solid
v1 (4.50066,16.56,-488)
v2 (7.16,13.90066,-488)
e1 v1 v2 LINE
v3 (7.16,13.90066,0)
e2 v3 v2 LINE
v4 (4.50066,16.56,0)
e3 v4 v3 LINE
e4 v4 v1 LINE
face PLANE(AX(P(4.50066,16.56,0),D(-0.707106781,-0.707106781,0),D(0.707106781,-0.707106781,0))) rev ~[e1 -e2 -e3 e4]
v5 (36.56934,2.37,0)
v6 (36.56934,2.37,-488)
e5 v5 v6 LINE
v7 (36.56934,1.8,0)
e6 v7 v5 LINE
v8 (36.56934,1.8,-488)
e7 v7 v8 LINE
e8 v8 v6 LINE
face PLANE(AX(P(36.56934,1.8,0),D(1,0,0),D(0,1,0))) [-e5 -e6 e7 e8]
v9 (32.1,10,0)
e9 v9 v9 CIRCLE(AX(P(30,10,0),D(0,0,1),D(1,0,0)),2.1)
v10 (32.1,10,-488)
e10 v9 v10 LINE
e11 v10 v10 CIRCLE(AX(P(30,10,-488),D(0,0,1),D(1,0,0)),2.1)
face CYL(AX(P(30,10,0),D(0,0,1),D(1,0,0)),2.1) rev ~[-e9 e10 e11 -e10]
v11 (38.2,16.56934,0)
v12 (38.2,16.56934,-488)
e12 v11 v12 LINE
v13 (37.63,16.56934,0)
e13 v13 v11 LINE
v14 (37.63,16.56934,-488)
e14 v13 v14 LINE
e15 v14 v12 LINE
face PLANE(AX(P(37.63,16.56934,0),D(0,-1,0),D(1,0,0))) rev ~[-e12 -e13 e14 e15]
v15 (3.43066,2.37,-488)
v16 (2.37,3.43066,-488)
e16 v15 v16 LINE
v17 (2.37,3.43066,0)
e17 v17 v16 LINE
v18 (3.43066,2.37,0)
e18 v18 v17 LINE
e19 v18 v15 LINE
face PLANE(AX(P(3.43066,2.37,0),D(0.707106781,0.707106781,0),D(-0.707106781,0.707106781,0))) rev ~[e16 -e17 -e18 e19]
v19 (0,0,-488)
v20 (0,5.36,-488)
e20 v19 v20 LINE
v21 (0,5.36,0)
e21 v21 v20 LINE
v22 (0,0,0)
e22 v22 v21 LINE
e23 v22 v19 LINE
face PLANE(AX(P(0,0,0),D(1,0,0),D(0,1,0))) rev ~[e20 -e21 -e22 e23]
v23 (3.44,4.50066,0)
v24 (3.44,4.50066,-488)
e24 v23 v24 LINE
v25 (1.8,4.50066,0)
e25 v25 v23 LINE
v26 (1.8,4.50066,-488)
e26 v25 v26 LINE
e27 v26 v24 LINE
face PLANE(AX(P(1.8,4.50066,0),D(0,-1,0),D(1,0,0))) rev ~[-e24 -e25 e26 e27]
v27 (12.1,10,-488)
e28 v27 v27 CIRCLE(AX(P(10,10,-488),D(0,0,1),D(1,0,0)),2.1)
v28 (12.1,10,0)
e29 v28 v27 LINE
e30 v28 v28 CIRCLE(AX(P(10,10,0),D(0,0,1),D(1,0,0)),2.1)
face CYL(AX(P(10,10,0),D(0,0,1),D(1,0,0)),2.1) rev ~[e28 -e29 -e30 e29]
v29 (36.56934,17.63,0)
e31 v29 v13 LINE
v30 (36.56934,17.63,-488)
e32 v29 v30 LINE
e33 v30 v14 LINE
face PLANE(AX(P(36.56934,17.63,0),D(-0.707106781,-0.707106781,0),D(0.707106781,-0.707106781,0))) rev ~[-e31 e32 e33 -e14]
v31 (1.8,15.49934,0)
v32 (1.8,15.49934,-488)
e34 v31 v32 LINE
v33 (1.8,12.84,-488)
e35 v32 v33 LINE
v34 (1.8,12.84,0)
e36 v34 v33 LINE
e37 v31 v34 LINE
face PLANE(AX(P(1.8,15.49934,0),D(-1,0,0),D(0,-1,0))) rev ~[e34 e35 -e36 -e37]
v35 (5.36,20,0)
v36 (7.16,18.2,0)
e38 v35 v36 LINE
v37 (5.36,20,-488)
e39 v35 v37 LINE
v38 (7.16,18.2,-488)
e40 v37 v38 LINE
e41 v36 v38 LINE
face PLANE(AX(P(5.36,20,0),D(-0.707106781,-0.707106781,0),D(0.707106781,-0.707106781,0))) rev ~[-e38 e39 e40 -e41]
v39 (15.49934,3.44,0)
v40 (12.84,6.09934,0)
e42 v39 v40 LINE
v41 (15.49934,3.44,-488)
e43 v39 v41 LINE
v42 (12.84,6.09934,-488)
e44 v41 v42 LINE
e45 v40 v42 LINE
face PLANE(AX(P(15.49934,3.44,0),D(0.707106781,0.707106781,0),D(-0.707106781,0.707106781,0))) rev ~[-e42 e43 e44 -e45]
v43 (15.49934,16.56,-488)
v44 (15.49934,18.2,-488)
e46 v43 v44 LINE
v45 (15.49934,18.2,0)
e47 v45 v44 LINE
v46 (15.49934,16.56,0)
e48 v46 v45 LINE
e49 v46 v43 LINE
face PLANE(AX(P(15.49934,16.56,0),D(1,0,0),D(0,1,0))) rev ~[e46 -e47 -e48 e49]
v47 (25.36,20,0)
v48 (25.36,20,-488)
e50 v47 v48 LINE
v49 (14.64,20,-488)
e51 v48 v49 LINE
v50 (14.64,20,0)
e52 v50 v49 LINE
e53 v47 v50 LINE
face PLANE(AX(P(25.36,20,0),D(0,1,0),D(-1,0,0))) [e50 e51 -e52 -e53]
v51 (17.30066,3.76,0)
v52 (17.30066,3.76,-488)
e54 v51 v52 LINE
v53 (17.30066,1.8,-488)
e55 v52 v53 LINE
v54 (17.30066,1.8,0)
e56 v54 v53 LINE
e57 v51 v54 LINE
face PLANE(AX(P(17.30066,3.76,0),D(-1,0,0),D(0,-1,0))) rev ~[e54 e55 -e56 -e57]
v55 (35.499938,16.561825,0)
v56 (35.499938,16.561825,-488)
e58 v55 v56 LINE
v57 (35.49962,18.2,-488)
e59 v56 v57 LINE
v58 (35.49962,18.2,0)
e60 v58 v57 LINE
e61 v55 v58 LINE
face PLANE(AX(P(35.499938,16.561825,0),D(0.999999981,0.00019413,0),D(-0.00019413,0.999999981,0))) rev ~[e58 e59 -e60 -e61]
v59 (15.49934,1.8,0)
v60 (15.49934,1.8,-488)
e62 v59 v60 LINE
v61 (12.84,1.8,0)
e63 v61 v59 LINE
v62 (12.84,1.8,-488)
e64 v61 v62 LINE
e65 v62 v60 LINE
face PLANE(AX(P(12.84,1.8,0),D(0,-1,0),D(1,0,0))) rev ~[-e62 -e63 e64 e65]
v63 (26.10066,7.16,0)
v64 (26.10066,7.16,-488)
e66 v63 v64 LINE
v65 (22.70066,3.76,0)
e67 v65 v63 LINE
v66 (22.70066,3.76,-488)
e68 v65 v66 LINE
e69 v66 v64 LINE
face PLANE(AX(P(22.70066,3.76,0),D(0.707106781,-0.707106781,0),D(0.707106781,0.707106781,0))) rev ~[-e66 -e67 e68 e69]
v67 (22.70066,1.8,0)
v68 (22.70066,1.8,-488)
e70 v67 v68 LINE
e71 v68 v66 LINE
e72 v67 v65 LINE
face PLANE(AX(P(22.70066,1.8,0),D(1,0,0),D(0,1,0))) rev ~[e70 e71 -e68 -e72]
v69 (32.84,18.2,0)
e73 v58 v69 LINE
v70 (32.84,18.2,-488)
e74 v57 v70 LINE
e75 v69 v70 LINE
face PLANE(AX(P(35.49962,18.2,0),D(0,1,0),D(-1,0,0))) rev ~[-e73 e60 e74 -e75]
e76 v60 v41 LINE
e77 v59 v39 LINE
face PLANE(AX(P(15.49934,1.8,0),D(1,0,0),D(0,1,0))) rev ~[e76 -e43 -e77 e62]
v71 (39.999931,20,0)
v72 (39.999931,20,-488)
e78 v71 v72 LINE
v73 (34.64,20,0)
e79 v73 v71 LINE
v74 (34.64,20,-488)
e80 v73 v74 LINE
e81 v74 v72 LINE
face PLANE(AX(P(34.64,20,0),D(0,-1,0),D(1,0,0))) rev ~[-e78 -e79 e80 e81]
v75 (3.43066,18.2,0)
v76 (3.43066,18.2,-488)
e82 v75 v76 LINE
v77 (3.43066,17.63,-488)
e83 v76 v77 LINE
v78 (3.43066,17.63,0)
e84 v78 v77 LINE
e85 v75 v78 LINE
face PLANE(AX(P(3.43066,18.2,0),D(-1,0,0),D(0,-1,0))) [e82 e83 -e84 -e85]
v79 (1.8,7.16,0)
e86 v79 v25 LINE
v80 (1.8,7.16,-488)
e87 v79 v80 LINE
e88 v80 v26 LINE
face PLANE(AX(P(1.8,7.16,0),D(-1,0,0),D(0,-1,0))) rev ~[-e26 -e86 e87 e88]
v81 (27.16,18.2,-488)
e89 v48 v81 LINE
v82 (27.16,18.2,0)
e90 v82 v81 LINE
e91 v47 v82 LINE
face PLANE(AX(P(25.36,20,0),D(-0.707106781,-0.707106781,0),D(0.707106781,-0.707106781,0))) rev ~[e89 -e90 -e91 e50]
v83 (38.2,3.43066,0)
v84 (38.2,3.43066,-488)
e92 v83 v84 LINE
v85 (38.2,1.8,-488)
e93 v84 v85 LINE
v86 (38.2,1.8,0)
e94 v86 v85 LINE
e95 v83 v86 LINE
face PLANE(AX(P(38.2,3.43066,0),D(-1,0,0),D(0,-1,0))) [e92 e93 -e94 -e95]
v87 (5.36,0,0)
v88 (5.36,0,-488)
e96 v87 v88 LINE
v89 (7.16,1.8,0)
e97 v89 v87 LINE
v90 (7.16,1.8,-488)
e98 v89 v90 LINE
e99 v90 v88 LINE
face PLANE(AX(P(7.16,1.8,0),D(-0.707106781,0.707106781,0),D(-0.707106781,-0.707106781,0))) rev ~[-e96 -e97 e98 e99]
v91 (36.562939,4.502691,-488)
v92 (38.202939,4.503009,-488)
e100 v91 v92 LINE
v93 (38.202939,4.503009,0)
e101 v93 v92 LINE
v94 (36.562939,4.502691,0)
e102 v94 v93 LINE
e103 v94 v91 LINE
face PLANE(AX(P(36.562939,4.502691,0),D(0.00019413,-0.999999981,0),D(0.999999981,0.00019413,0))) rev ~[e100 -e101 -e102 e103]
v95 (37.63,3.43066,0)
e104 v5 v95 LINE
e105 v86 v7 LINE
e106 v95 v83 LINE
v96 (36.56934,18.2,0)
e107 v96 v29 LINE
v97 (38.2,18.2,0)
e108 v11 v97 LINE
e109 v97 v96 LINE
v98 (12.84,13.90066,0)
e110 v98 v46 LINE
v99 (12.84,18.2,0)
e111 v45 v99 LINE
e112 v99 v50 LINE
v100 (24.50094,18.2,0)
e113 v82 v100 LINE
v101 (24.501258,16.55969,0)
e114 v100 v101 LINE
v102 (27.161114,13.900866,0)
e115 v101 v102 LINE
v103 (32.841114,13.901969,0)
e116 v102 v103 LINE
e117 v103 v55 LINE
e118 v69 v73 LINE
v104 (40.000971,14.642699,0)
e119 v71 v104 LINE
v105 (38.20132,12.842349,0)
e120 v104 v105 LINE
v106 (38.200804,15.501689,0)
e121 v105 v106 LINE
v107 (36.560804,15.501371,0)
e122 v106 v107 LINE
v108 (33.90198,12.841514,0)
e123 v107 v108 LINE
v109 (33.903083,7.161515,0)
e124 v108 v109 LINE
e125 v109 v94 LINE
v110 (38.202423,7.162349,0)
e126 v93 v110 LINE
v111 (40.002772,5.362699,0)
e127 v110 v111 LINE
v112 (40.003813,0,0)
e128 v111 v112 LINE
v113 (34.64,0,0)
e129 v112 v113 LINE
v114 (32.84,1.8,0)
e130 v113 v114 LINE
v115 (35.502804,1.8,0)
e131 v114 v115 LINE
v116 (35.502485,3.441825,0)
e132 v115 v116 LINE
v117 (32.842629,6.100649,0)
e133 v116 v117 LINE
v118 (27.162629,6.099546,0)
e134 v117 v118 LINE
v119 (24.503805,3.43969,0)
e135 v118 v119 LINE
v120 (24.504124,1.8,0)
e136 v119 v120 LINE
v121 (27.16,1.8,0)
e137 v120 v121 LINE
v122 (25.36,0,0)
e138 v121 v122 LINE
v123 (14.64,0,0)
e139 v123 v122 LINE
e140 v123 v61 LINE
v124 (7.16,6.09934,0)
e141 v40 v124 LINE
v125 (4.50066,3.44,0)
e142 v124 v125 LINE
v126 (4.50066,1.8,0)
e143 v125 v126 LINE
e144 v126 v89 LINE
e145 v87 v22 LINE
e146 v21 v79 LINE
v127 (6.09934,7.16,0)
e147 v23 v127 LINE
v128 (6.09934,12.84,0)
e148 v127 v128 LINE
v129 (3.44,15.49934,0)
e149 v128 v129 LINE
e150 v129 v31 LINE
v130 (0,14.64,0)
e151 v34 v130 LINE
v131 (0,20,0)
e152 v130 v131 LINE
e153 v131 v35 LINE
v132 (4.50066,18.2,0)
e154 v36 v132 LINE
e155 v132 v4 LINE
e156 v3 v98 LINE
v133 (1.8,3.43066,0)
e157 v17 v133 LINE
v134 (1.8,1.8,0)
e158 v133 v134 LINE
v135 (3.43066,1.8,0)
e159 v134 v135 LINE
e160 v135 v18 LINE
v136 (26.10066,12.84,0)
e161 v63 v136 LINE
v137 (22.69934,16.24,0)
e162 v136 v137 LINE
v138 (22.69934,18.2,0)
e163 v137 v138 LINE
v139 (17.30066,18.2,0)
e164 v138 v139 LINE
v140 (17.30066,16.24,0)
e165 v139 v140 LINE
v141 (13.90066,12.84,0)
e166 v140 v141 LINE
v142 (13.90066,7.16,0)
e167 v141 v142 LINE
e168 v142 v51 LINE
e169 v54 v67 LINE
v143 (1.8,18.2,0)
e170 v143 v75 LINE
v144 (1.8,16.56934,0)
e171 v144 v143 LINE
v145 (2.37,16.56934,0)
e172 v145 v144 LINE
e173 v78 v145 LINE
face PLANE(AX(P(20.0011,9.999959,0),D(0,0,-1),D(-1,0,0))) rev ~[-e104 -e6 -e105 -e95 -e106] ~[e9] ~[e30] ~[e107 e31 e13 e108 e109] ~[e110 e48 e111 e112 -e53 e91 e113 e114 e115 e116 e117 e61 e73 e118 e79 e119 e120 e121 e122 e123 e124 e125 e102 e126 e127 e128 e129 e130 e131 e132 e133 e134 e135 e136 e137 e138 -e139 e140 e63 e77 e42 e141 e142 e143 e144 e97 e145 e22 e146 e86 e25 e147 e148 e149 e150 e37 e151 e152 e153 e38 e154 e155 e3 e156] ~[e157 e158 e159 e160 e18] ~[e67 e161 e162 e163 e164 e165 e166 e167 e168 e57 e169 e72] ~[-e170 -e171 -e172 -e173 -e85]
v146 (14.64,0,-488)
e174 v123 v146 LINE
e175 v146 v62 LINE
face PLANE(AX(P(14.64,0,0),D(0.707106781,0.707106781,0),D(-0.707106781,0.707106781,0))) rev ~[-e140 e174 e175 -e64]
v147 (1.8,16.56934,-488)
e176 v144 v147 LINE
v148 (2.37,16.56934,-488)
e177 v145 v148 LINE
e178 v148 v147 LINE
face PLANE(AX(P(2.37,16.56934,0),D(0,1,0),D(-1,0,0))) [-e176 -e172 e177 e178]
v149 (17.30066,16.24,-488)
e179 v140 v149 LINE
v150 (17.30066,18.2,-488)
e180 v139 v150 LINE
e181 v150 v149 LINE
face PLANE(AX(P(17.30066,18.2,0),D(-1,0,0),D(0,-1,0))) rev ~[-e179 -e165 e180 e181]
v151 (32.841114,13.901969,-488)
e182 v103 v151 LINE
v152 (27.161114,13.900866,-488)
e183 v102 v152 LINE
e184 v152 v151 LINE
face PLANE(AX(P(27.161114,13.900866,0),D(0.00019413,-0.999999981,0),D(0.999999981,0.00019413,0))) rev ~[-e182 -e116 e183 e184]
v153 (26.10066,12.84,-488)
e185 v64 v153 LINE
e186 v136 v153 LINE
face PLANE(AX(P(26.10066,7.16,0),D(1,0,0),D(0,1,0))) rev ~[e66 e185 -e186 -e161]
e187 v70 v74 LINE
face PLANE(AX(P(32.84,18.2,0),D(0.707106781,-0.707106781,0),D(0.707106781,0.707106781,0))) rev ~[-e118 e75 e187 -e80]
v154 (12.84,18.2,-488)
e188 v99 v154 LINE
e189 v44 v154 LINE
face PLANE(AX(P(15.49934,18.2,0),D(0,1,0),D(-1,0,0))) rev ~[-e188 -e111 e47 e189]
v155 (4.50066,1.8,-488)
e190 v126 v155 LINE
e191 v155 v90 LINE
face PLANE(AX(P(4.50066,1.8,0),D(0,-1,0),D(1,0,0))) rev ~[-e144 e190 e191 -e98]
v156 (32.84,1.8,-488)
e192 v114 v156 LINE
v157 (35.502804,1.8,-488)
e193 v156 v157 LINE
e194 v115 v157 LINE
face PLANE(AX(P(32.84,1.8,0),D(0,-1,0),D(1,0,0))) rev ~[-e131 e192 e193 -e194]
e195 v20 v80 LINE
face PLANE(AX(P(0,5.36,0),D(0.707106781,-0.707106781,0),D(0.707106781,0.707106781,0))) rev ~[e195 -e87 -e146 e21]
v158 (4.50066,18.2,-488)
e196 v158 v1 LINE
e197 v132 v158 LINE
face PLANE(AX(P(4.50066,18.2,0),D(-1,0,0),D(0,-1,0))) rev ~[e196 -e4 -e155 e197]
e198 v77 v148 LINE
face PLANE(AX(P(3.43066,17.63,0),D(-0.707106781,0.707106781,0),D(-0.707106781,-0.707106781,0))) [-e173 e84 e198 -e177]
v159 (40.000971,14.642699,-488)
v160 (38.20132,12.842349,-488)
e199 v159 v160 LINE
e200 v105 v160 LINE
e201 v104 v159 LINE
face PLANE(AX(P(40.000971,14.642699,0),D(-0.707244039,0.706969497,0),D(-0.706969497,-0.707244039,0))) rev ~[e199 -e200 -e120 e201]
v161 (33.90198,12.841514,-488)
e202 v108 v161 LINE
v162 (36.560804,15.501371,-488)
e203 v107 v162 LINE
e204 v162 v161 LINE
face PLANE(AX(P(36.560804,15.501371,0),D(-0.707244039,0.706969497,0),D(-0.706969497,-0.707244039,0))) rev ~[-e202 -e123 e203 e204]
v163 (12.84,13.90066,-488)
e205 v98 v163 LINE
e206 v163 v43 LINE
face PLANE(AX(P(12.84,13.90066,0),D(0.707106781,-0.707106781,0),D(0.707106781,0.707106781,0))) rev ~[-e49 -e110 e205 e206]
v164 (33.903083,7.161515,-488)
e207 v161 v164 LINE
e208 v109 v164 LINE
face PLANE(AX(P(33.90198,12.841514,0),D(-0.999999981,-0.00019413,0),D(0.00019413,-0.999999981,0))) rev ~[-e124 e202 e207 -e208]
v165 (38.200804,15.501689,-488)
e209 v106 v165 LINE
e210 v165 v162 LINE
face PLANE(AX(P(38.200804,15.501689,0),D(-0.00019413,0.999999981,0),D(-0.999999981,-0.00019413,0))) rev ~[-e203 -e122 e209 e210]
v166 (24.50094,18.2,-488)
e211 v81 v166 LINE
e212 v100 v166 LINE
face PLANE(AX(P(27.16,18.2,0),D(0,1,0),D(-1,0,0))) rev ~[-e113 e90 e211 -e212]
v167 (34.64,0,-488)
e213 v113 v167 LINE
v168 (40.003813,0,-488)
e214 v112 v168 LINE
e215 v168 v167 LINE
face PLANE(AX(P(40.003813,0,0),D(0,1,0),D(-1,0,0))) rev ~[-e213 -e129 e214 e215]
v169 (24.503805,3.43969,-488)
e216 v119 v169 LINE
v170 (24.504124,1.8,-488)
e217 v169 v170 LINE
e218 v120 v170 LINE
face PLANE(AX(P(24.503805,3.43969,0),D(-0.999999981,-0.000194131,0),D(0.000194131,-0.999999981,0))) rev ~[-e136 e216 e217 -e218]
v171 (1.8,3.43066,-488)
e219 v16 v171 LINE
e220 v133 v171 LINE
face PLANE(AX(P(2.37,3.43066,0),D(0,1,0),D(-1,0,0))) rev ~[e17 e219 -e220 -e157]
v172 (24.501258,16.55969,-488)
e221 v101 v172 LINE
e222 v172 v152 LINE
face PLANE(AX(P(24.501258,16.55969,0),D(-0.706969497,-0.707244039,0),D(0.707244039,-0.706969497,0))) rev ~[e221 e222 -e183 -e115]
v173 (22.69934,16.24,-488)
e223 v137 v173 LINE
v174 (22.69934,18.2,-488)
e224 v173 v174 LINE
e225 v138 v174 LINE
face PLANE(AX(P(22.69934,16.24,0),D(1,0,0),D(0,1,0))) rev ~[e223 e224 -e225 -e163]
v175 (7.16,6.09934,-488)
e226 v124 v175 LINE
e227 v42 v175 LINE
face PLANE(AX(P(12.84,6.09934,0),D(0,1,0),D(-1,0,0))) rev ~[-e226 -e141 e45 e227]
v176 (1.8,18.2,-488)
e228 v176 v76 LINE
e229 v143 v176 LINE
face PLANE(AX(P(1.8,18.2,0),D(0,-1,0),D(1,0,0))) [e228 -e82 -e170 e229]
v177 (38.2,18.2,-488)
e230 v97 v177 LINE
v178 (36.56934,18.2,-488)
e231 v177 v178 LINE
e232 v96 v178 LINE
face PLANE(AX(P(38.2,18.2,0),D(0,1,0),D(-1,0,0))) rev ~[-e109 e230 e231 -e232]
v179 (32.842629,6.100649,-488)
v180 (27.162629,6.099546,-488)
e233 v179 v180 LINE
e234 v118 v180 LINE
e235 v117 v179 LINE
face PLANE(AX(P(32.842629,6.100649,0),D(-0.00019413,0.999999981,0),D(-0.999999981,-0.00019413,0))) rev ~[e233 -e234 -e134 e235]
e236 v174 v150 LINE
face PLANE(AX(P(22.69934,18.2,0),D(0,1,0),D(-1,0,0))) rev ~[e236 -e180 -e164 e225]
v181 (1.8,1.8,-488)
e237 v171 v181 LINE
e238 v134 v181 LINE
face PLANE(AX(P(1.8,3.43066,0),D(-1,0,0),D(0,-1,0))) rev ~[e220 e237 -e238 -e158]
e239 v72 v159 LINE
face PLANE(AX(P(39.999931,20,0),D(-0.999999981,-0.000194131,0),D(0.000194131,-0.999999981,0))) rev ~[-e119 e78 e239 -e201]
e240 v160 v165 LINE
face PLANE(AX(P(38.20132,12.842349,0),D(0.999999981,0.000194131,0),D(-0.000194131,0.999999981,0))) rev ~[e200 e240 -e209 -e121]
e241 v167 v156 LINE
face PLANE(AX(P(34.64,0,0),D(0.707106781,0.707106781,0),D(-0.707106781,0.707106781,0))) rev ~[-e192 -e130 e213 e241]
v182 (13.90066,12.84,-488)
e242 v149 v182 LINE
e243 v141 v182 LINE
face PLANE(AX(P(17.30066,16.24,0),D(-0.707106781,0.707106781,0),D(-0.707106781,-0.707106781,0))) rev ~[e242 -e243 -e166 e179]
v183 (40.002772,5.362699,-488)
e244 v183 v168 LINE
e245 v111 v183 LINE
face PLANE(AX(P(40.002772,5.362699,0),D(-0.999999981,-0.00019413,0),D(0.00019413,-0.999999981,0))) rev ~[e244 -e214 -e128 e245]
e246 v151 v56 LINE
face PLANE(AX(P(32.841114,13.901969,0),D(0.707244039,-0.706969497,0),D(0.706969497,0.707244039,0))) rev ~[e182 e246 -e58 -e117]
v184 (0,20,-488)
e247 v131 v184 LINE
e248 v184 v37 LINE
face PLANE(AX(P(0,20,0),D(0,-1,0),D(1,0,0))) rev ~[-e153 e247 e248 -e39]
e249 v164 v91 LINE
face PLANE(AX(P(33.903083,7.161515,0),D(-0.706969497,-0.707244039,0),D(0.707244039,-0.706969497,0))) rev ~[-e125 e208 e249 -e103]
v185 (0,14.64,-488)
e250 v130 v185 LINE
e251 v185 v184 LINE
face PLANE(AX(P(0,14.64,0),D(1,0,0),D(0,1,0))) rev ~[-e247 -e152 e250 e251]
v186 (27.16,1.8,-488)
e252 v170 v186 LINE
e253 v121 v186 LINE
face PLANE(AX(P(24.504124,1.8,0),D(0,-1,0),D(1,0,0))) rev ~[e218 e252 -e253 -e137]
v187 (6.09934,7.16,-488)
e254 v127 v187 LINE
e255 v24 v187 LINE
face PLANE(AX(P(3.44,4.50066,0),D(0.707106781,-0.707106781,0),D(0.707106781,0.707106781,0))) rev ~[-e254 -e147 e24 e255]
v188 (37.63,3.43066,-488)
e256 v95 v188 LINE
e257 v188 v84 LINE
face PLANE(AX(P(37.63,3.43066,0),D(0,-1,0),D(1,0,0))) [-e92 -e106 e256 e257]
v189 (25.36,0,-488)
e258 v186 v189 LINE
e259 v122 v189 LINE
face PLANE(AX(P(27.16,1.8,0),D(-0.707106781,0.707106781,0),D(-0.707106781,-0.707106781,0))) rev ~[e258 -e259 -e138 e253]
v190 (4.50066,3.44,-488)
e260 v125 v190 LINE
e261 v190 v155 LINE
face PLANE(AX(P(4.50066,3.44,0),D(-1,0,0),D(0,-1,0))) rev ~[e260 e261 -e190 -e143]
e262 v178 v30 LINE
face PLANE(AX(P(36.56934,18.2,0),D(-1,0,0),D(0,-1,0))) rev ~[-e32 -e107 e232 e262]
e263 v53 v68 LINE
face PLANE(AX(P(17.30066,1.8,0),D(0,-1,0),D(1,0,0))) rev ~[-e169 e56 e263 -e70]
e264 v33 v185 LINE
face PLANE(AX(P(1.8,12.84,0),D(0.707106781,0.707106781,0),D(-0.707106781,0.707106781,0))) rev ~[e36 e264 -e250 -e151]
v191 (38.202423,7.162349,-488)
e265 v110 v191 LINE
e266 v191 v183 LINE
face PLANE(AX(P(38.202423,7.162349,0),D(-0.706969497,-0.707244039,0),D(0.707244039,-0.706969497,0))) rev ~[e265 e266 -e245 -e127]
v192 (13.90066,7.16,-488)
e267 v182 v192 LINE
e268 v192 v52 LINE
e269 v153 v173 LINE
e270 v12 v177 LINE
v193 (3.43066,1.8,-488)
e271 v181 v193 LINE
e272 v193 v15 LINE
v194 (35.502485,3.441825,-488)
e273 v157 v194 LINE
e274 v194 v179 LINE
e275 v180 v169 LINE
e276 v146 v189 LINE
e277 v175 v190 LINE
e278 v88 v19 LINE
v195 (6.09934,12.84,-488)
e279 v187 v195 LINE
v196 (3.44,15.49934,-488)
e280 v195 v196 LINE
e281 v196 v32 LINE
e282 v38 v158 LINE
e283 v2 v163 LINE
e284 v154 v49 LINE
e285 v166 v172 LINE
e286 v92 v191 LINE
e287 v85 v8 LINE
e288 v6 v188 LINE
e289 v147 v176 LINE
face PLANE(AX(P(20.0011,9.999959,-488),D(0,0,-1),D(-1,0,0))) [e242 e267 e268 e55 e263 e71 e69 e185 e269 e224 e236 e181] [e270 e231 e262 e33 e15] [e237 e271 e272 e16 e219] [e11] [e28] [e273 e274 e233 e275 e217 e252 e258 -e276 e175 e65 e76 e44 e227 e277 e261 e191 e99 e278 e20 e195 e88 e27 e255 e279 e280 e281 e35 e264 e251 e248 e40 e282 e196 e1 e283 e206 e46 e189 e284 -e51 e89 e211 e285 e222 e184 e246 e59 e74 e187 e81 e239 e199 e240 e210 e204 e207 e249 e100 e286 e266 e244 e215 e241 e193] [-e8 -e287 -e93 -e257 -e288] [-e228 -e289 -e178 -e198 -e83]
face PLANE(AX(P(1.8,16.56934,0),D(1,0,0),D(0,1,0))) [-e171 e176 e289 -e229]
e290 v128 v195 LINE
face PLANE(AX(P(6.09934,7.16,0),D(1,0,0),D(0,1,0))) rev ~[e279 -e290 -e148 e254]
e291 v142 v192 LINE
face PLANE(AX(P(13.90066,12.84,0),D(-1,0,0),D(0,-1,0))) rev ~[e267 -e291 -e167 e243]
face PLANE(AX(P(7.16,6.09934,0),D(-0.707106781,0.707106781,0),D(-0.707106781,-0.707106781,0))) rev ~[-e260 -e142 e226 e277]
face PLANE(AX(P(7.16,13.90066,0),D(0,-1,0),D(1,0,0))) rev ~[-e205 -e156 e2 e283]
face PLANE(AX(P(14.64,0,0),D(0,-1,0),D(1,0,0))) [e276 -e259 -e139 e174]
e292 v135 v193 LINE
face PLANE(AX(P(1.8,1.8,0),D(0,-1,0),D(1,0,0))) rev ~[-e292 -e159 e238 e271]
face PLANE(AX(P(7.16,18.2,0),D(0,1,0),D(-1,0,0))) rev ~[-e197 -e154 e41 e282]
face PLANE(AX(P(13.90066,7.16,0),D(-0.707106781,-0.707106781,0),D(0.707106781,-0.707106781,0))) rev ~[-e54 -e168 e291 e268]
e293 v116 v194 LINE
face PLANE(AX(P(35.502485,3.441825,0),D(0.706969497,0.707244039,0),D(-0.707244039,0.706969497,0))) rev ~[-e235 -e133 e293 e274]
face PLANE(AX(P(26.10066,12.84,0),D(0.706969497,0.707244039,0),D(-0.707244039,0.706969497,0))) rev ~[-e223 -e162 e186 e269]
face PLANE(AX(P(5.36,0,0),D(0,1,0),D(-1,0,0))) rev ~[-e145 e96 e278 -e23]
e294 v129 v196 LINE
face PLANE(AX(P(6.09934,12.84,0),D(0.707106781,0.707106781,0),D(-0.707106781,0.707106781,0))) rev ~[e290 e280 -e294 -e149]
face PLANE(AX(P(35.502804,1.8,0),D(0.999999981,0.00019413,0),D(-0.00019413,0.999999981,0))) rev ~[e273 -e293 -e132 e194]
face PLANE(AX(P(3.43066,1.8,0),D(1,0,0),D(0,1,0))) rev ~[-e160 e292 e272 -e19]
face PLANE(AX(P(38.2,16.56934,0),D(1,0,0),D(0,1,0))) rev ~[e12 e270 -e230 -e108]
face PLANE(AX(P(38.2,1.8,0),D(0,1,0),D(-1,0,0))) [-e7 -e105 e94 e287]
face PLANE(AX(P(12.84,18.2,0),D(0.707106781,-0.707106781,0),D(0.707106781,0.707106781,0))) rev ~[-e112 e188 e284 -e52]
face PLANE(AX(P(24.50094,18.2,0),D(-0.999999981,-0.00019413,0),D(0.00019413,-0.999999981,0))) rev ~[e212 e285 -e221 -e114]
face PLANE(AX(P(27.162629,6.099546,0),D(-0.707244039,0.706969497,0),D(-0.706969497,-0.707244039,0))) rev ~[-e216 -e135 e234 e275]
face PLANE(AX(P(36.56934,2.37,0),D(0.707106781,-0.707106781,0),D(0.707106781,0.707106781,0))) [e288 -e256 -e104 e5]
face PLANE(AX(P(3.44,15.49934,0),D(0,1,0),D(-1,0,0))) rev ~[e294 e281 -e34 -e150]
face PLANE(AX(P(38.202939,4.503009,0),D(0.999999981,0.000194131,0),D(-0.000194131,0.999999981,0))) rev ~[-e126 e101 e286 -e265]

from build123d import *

# Parameters (mm, degrees)
SKETCH1_R           = 2.1
BOSS_EXTRUDE1_DEPTH = 488


with BuildPart() as part:
    # Sketch1 → Boss-Extrude1 (new body)
    with BuildSketch(Plane.XY):
        Polygon((0, 0), (0, 5.36), (1.8, 7.16), (1.8, 4.500660172), (3.44, 4.500660172), (6.099339828, 7.16), (6.099339828, 12.84), (3.44, 15.499339828), (1.8, 15.499339828), (1.8, 12.84), (0, 14.64), (0, 20), (5.36, 20), (7.16, 18.2), (4.500660172, 18.2), (4.500660172, 16.56), (7.16, 13.900660172), (12.84, 13.900660172), (15.499339828, 16.56), (15.499339828, 18.2), (12.84, 18.2), (14.64, 20), (20, 20), (25.36, 20), (27.16, 18.2), (24.500939946, 18.2), (24.50125838, 16.559689577), (27.161114417, 13.900866058), (32.84111431, 13.901968719), (35.499937829, 16.561824756), (35.49961981, 18.2), (32.84, 18.2), (34.64, 20), (39.999930631, 20), (40.000970647, 14.642698508), (38.201320116, 12.842349107), (38.200803857, 15.501688885), (36.560803888, 15.501370511), (33.901980368, 12.841514474), (33.903083029, 7.161514581), (36.562939066, 4.502691062), (38.202939036, 4.503009436), (38.202422777, 7.162349214), (40.002772178, 5.362698683), (40.003813241, 0), (34.64, 0), (32.84, 1.8), (35.502803549, 1.8), (35.502484821, 3.441825004), (32.842628784, 6.100648523), (27.162628891, 6.099545862), (24.503805372, 3.439689825), (24.504123686, 1.8), (27.16, 1.8), (25.36, 0), (20, 0), (14.64, 0), (12.84, 1.8), (15.499339828, 1.8), (15.499339828, 3.44), (12.84, 6.099339828), (7.16, 6.099339828), (4.500660172, 3.44), (4.500660172, 1.8), (7.16, 1.8), (5.36, 0), align=None)
        with Locations((10, 10)):
            Circle(SKETCH1_R, mode=Mode.SUBTRACT)
        with Locations((30, 10)):
            Circle(SKETCH1_R, mode=Mode.SUBTRACT)
        Polygon((17.300660172, 3.76), (17.300660172, 1.8), (22.700660172, 1.8), (22.700660172, 3.76), (26.100660172, 7.16), (26.100660172, 12.84), (22.699339828, 16.24), (22.699339828, 18.2), (17.300660172, 18.2), (17.300660172, 16.24), (13.900660172, 12.84), (13.900660172, 7.16), align=None, mode=Mode.SUBTRACT)
        Polygon((1.8, 18.2), (3.430660172, 18.2), (3.430660172, 17.63), (2.37, 16.569339828), (1.8, 16.569339828), align=None, mode=Mode.SUBTRACT)
        Polygon((1.8, 3.430660172), (1.8, 1.8), (3.430660172, 1.8), (3.430660172, 2.37), (2.37, 3.430660172), align=None, mode=Mode.SUBTRACT)
        Polygon((38.2, 1.8), (36.569339828, 1.8), (36.569339828, 2.37), (37.63, 3.430660172), (38.2, 3.430660172), align=None, mode=Mode.SUBTRACT)
        Polygon((38.2, 16.569339828), (38.2, 18.2), (36.569339828, 18.2), (36.569339828, 17.63), (37.63, 16.569339828), align=None, mode=Mode.SUBTRACT)
    extrude(amount=-BOSS_EXTRUDE1_DEPTH)


solid = part.part
